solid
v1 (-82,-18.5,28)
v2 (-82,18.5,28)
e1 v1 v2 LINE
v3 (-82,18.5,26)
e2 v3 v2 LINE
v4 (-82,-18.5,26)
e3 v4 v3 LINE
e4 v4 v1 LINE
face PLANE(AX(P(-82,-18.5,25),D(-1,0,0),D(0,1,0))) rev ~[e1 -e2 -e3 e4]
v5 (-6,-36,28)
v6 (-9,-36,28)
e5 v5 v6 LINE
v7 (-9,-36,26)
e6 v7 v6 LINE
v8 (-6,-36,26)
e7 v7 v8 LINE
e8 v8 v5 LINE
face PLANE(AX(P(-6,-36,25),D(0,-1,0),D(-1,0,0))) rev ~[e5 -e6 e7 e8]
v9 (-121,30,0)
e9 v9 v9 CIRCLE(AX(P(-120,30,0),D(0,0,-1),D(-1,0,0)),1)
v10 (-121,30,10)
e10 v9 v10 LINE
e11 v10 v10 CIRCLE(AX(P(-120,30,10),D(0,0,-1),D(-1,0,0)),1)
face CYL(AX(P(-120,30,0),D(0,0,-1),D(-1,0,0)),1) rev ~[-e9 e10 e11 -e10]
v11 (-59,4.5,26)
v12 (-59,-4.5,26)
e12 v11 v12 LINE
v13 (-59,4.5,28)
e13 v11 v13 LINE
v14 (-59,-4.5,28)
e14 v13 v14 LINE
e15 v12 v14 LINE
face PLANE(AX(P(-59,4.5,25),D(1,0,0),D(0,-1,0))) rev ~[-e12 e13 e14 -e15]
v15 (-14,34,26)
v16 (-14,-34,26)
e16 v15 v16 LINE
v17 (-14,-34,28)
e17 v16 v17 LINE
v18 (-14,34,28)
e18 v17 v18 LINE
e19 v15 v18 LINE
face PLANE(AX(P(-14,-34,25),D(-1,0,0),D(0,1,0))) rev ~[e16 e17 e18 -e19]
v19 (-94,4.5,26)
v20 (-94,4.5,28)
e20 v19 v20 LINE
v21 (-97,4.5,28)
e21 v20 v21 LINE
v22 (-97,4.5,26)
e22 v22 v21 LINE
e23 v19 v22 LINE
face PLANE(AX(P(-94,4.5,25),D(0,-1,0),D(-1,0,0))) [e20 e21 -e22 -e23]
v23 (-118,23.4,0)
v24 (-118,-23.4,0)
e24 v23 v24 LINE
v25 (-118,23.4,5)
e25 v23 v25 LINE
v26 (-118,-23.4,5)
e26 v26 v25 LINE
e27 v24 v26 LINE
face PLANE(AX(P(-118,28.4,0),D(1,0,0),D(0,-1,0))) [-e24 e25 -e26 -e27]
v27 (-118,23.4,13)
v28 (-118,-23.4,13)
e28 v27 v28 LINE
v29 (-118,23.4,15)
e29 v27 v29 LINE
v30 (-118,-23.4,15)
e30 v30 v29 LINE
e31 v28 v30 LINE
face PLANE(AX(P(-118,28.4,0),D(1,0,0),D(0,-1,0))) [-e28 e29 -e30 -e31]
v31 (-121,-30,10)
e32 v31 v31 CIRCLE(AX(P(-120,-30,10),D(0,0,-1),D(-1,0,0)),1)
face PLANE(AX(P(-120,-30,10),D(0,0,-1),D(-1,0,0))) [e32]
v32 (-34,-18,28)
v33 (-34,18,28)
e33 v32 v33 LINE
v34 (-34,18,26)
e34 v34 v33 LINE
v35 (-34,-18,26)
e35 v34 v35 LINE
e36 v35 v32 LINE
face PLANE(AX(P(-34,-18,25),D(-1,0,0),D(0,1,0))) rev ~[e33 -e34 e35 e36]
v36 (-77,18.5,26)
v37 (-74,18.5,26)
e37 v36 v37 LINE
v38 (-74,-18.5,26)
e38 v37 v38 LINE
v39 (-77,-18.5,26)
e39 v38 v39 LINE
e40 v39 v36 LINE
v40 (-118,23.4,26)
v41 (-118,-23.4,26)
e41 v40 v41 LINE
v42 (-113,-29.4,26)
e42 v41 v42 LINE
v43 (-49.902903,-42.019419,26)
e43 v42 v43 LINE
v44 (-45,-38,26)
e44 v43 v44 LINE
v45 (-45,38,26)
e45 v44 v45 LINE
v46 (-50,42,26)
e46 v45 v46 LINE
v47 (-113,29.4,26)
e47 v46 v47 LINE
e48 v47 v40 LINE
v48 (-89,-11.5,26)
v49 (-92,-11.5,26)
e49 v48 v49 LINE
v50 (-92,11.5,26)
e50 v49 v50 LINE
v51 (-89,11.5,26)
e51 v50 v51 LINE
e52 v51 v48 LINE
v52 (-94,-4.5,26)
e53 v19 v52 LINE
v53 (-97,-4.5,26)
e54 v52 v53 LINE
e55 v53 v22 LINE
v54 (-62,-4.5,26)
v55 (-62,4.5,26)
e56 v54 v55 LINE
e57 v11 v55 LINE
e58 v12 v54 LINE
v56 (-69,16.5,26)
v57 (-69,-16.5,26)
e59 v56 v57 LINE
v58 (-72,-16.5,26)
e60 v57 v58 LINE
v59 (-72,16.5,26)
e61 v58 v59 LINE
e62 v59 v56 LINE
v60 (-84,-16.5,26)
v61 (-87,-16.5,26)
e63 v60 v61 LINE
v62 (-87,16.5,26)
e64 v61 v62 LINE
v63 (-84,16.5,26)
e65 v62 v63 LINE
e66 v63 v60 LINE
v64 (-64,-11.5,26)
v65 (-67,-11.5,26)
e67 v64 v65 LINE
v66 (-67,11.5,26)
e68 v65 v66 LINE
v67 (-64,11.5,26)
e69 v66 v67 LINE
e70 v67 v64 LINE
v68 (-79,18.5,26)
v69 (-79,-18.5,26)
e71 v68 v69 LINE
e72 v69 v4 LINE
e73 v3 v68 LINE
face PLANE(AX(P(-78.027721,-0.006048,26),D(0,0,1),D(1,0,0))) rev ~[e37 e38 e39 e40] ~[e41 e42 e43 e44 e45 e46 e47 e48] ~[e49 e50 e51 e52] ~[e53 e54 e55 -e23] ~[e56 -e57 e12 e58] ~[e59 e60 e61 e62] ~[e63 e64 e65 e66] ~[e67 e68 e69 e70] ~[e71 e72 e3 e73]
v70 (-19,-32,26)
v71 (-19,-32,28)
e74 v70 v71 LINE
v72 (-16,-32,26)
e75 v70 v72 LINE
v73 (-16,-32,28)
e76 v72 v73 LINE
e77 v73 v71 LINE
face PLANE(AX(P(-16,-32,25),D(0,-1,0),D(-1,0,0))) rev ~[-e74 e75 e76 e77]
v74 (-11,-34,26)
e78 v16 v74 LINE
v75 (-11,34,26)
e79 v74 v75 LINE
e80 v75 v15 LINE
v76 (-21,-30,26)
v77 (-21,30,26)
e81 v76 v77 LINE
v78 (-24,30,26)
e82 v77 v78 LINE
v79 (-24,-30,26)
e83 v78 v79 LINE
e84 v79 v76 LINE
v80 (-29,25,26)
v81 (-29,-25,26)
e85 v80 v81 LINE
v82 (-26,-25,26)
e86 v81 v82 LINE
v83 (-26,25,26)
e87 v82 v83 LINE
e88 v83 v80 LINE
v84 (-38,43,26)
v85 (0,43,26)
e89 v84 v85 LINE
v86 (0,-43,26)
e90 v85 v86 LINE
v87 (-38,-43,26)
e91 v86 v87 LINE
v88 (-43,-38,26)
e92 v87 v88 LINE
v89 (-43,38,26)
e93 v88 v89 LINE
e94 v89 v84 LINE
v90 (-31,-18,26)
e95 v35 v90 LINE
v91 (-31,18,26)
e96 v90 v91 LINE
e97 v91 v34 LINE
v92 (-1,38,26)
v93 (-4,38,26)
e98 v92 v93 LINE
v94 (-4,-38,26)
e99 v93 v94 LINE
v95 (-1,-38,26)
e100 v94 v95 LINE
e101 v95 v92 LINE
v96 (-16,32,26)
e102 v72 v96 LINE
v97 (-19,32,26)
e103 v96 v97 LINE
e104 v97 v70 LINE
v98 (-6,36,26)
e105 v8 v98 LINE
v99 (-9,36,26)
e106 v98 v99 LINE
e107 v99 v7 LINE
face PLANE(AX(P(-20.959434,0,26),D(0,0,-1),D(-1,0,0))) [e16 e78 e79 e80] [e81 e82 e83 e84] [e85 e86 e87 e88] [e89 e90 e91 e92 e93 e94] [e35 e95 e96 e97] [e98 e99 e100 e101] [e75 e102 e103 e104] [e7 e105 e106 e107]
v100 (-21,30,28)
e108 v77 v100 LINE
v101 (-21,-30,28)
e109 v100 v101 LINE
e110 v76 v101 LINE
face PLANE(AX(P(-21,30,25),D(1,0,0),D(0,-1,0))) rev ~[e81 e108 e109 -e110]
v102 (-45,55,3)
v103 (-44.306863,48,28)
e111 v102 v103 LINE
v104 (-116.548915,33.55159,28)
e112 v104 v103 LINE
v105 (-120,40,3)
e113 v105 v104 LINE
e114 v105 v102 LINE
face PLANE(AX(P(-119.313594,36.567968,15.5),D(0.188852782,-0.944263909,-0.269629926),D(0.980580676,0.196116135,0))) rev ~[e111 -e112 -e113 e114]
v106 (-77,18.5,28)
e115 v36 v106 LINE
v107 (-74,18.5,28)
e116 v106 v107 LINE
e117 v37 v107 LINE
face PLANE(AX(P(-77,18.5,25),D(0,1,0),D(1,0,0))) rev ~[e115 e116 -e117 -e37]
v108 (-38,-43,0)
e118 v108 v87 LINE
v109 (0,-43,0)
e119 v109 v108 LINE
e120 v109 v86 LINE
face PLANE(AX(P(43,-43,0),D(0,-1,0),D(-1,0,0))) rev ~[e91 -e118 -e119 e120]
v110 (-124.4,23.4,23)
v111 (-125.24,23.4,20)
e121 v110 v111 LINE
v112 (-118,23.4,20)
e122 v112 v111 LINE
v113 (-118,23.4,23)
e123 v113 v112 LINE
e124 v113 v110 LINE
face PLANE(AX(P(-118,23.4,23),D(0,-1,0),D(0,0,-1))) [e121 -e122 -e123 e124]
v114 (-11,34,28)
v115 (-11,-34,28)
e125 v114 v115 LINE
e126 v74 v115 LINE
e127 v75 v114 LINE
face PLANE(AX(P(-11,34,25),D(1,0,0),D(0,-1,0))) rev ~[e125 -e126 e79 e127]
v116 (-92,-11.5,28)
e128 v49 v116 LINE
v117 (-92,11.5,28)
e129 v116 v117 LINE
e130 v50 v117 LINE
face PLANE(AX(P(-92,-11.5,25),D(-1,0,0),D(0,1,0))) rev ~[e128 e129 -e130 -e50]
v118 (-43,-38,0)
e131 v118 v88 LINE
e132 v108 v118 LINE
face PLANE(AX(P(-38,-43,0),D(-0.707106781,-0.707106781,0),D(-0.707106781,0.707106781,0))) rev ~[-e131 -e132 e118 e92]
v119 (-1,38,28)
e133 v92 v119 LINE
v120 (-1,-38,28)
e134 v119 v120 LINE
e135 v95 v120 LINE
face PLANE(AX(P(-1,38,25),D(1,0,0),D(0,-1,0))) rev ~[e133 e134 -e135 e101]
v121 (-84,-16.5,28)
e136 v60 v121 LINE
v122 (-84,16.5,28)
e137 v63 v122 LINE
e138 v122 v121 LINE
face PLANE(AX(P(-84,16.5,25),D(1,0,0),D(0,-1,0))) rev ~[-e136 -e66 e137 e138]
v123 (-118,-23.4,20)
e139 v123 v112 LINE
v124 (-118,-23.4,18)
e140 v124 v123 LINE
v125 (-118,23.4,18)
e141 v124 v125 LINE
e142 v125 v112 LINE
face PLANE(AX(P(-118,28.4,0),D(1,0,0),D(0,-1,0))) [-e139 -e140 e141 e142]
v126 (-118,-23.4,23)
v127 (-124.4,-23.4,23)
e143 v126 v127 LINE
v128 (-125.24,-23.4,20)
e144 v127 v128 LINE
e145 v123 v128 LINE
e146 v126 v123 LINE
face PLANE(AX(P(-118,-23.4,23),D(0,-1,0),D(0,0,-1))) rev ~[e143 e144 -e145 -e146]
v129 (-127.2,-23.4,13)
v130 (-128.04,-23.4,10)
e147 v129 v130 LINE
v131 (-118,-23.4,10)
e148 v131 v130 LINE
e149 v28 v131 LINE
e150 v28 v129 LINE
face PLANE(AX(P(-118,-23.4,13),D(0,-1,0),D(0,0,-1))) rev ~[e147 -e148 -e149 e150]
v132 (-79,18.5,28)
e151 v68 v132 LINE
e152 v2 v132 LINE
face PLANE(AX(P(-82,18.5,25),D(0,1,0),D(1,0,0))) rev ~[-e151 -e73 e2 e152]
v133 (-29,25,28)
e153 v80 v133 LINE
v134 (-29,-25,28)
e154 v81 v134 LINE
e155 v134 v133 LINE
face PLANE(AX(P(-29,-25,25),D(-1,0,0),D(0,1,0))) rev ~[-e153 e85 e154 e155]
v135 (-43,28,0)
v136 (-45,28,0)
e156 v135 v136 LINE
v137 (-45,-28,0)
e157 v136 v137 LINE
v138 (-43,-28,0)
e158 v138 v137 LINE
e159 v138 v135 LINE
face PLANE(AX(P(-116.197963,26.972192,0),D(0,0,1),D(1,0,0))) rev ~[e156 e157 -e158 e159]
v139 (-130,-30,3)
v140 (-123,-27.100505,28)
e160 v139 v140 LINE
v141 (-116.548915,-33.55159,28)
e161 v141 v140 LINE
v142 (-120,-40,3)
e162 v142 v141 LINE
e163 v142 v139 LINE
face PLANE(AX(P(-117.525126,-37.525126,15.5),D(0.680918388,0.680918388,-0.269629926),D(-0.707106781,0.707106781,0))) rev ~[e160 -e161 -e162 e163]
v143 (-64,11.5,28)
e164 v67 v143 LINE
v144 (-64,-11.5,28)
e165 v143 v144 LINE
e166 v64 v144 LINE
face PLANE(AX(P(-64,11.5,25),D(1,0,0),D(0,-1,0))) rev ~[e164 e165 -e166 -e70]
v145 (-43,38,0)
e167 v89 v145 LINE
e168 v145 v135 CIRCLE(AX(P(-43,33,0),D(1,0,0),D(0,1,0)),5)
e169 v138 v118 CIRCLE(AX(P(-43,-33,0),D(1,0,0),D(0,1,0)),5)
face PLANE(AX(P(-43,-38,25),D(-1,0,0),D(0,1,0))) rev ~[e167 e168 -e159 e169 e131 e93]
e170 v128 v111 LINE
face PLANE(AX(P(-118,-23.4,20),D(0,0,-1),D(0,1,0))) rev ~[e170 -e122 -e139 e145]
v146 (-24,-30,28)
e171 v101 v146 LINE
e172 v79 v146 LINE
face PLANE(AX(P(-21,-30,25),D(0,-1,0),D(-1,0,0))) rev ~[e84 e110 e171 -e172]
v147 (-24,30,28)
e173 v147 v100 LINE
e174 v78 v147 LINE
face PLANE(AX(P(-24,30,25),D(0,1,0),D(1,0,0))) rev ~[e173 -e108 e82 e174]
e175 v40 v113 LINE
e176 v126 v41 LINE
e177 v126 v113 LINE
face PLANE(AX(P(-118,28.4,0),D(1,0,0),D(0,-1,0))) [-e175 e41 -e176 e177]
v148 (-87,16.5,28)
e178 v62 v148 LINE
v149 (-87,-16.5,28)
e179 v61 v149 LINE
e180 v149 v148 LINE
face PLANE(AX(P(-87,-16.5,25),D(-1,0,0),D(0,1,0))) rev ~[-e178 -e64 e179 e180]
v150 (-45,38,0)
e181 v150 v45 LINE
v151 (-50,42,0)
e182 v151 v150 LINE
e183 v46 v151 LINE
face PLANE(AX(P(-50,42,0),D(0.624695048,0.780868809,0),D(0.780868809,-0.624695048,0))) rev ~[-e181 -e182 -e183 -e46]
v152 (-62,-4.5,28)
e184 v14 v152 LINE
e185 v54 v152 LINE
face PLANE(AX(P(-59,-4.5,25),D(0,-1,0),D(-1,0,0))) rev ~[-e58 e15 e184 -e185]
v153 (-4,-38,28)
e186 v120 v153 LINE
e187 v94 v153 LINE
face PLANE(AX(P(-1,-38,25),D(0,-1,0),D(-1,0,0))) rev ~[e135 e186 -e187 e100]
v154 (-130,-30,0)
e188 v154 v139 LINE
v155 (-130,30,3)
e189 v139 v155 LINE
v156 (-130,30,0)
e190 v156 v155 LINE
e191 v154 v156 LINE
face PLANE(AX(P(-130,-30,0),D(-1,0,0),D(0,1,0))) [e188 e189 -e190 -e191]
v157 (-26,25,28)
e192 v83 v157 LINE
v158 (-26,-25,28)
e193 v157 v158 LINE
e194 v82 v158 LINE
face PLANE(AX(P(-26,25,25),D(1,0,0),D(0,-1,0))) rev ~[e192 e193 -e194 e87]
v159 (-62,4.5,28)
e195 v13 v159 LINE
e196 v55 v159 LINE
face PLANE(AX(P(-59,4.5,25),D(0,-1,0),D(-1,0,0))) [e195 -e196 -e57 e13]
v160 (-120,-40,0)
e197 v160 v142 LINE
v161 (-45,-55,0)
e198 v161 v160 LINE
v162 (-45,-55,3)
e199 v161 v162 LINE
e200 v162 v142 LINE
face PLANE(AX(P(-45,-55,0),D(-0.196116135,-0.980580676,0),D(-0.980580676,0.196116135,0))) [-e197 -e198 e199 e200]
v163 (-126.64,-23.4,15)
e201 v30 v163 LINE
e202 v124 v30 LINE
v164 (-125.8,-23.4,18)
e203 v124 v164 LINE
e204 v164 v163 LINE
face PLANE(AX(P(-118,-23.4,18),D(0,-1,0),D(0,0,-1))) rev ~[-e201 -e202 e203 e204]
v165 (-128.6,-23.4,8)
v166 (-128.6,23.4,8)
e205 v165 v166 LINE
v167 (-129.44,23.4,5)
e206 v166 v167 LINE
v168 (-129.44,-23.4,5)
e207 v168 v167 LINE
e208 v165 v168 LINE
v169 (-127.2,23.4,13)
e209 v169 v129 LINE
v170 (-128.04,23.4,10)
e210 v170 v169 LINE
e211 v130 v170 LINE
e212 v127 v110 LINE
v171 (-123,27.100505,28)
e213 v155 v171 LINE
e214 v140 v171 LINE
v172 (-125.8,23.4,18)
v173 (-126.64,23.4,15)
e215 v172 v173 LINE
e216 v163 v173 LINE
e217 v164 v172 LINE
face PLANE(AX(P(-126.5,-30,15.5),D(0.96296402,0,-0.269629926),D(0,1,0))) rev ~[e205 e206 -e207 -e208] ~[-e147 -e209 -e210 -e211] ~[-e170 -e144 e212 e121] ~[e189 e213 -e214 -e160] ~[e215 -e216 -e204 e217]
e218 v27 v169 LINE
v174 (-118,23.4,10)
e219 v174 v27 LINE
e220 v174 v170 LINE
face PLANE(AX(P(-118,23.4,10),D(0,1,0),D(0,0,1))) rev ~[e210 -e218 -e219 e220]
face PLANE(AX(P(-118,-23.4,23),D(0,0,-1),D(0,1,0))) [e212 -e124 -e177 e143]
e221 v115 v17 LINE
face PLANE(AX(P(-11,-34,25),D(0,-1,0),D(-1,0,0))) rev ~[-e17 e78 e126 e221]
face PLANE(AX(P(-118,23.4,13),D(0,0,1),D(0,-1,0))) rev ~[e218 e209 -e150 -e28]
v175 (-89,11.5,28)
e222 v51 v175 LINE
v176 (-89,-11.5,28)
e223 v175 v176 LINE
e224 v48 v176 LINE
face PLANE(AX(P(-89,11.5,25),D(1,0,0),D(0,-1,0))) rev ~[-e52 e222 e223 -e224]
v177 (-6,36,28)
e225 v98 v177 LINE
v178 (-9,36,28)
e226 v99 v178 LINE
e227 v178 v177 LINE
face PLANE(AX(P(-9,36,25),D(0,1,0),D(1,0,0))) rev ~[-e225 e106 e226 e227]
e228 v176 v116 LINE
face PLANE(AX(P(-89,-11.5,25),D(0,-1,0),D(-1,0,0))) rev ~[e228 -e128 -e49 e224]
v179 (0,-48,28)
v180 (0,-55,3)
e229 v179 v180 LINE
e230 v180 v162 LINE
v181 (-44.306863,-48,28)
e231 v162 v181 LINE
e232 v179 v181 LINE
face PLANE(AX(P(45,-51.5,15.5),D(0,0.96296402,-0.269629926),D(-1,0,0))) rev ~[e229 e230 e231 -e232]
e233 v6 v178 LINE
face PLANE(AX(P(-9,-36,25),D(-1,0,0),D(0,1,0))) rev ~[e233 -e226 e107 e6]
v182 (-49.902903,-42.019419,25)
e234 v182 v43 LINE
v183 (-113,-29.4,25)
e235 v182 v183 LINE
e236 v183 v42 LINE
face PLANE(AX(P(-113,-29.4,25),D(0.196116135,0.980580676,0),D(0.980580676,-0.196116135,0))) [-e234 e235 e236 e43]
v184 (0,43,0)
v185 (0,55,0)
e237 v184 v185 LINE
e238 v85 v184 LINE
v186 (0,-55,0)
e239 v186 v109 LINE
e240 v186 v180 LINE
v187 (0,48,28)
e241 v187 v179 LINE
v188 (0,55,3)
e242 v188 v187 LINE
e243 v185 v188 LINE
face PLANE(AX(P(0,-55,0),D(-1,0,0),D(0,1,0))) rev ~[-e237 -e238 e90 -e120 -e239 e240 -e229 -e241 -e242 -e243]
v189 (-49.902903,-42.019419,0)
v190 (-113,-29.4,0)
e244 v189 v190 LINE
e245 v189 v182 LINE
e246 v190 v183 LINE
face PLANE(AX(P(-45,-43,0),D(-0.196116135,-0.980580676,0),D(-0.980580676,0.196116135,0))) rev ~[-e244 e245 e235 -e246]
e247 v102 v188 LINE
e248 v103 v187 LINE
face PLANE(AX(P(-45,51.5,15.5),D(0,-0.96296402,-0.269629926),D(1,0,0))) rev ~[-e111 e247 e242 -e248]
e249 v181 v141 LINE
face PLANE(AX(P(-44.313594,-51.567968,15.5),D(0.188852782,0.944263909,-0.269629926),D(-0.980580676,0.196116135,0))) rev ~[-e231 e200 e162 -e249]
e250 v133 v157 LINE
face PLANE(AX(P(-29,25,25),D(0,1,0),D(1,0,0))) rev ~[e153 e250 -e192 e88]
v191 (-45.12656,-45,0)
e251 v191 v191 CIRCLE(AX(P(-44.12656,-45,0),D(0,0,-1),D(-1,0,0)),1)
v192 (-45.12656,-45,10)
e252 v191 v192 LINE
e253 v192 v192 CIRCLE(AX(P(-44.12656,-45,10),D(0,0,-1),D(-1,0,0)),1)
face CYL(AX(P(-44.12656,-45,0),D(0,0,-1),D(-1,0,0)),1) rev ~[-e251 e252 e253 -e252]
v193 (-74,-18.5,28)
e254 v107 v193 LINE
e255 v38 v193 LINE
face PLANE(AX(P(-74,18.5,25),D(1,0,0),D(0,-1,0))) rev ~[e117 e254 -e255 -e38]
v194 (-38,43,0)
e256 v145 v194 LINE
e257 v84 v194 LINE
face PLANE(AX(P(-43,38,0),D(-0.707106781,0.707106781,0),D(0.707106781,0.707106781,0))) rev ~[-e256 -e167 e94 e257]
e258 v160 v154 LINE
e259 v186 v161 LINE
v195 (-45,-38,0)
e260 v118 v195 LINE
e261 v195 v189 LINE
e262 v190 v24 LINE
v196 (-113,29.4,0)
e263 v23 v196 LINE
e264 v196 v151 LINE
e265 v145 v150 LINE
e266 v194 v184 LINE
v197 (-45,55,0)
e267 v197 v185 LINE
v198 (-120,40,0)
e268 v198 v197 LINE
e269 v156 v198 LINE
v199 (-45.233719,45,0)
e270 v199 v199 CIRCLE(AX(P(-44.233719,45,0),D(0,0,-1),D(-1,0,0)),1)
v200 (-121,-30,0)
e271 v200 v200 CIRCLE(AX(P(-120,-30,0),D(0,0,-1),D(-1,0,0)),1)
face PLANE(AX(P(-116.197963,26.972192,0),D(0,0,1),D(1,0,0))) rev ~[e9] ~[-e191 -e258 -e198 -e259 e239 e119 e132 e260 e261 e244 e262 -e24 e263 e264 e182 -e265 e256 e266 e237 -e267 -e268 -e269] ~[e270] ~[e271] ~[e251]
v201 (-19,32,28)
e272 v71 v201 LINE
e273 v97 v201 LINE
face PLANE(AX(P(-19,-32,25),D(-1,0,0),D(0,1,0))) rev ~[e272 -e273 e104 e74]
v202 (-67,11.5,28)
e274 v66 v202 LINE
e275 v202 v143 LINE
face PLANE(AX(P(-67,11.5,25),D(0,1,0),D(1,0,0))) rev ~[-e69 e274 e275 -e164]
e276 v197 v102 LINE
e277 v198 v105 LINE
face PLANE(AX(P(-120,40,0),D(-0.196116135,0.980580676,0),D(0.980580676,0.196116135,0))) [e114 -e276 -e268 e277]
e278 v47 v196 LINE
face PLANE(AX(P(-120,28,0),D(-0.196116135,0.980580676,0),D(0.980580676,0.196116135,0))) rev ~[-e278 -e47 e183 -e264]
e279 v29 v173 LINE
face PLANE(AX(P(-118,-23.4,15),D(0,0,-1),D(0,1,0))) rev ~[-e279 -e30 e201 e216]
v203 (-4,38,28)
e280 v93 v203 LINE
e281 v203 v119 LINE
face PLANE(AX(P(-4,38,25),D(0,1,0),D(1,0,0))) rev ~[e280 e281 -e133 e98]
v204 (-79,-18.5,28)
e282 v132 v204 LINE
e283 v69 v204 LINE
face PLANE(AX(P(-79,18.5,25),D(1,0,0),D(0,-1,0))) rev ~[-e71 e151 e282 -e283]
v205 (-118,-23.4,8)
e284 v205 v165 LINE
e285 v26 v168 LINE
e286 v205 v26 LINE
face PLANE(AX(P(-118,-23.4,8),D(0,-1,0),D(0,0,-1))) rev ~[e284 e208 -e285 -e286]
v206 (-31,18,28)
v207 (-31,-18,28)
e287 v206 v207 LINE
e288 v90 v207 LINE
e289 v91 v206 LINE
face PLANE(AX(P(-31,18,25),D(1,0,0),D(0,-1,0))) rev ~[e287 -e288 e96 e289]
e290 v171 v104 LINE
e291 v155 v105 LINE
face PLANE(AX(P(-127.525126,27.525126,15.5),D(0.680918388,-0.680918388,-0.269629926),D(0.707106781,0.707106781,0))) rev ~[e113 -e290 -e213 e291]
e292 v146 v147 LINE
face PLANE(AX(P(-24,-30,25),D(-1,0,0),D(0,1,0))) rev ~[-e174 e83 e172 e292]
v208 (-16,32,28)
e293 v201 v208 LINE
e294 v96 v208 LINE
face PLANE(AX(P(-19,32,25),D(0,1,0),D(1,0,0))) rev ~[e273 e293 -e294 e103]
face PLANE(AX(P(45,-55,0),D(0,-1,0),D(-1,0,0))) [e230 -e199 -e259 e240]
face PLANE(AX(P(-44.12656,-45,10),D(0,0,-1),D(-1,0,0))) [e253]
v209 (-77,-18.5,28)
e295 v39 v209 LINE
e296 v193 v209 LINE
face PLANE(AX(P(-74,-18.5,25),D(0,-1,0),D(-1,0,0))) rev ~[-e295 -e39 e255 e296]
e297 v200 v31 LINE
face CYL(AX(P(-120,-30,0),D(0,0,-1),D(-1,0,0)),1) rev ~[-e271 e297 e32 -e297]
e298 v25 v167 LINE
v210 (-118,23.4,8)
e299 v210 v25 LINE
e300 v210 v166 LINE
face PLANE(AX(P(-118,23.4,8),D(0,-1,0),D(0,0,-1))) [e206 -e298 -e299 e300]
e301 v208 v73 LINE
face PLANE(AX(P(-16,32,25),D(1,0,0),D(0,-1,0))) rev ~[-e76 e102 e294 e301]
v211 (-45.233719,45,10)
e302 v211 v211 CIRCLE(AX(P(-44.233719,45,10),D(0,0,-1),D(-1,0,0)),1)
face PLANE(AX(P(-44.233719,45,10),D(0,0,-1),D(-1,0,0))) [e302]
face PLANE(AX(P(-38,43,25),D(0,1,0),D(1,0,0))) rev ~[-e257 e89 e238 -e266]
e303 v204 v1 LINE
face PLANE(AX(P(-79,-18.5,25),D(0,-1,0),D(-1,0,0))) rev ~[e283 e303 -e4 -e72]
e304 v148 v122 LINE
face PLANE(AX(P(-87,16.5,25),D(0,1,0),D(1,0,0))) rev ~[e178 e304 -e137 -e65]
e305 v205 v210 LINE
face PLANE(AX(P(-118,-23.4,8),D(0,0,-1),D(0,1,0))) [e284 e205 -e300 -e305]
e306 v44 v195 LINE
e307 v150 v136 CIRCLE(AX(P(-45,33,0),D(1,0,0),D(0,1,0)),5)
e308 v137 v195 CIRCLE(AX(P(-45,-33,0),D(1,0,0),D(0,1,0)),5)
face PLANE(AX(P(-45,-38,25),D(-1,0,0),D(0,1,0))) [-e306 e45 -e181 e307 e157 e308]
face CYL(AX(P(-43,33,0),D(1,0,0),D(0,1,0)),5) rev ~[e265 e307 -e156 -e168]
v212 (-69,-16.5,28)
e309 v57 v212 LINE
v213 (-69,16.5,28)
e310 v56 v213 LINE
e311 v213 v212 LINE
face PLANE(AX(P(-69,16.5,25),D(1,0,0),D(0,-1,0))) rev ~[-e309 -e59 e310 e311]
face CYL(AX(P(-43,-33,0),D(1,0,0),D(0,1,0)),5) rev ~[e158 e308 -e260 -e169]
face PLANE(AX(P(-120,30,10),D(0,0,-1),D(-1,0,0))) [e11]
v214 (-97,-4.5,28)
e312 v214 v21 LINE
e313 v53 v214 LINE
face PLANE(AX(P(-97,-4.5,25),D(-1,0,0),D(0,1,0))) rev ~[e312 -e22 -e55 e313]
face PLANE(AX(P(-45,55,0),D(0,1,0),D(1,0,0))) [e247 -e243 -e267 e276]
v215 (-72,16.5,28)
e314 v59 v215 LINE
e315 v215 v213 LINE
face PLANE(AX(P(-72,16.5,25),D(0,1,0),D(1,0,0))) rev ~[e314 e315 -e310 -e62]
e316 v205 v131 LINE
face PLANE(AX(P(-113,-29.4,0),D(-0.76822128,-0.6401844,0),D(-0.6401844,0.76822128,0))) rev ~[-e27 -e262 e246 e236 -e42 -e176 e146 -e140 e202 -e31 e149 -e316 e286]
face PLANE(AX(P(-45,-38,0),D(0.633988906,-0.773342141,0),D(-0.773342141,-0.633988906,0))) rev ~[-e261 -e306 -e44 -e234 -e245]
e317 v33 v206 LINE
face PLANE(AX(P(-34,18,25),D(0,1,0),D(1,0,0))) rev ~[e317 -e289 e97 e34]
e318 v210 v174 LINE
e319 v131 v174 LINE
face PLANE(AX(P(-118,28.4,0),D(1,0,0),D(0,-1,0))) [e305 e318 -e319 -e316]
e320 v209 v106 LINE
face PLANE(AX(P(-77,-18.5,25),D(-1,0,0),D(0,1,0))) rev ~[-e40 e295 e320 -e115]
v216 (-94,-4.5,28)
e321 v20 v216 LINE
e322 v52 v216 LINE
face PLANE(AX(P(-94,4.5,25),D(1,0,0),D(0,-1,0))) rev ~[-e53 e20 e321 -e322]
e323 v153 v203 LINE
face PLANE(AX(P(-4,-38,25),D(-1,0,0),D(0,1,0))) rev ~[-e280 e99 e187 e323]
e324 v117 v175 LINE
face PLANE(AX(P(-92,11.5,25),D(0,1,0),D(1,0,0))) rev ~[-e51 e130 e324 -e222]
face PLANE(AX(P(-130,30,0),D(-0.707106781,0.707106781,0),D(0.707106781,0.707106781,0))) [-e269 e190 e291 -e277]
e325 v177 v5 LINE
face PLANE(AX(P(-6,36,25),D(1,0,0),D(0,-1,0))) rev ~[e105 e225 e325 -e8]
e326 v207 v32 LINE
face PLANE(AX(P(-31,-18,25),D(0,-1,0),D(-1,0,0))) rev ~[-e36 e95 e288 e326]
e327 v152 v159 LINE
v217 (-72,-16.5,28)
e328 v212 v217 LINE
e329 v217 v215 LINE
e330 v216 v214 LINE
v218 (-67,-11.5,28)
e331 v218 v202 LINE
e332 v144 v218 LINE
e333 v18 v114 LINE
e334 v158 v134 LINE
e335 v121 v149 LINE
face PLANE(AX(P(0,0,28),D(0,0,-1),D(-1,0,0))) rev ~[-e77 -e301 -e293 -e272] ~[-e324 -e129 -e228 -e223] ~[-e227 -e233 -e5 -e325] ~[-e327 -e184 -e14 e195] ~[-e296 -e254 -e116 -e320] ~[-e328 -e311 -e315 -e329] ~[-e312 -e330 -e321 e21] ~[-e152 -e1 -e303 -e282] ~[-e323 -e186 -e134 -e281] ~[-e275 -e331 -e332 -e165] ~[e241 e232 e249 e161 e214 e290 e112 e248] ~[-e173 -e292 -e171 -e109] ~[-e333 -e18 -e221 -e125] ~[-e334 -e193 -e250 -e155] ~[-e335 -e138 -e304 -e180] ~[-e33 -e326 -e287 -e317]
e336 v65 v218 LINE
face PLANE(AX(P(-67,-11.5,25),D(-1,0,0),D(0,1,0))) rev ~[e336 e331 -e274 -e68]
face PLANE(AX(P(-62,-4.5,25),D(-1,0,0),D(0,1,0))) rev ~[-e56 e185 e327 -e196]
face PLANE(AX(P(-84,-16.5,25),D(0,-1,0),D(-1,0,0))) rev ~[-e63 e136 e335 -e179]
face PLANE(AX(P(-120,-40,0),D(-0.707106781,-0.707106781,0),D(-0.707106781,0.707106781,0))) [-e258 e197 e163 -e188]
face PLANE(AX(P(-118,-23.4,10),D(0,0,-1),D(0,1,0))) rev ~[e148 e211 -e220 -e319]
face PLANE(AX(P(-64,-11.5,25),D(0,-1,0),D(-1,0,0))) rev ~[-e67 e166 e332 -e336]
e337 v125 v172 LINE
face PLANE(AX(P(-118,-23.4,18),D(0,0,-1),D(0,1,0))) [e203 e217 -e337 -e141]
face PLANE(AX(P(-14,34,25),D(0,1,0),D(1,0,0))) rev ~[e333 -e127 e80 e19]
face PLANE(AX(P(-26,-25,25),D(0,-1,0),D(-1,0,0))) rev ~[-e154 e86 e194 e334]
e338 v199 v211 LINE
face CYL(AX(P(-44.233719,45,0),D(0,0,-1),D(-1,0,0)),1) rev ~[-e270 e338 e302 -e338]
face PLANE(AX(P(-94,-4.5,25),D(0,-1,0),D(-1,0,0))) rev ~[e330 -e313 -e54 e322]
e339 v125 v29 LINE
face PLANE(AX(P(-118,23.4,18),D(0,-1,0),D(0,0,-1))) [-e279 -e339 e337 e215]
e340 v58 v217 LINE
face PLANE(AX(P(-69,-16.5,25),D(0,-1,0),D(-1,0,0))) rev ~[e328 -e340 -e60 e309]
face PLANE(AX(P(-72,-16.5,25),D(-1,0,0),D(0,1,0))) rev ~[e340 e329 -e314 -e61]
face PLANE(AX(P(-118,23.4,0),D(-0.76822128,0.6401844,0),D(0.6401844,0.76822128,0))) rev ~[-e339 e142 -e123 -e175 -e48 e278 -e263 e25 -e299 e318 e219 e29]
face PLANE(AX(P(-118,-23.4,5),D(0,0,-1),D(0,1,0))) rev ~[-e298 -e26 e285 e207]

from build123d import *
from OCP.BRepFilletAPI import BRepFilletAPI_MakeChamfer

# Parameters (mm, degrees)
ESBO_O1_W                 = 2
ESBO_O1_H                 = 86
RESSALTO_EXTRUS_O3_DEPTH  = 25
RESSALTO_EXTRUS_O16_DEPTH = 25
RESSALTO_EXTRUS_O17_DEPTH = 28
CHANFRO6_SIZE             = 25
CHANFRO6_SIZE2            = 7
RESSALTO_EXTRUS_O19_DEPTH = 25
ESBO_O9_R                 = 1
CORTE_EXTRUS_O1_DEPTH     = 10
ESBO_O13_W                = 5
ESBO_O13_H                = 10
ESBO_O13_W_2              = 3
ESBO_O13_H_2              = 46.8
CORTE_EXTRUS_O6_DEPTH     = 256.564081983
CORTE_EXTRUS_O8_REACH     = 185.679
CORTE_EXTRUS_O9_REACH     = 185.679
CORTE_EXTRUS_O10_REACH    = 257.564
ESBO_O14_W                = 3
ESBO_O14_H                = 46.8
RESSALTO_EXTRUS_O20_DEPTH = 3
CORTE_EXTRUS_O13_DEPTH    = 3
ESBO_O23_W                = 3
ESBO_O23_H                = 4.5
CORTE_EXTRUS_O14_DEPTH    = 3
CORTE_EXTRUS_O15_REACH    = 145.906
ESBO_O24_W                = 130
ESBO_O24_H                = 110
CORTE_EXTRUS_O16_DEPTH    = 1
CORTE_EXTRUS_O17_DEPTH    = 1


with BuildPart() as part:
    # Esboço1 → Ressalto-extrusão3 (new body)
    with BuildSketch(Plane.XY):
        Polygon((-45, -43), (-120, -28), (-120, -30), (-45, -45), (45, -45), (45, -43), (43, -43), (-43, -43), align=None)
        with Locations((44, 0)):
            Rectangle(ESBO_O1_W, ESBO_O1_H)
        Polygon((45, 45), (-45, 45), (-45, 43), (-43, 43), (43, 43), (45, 43), align=None)
        with Locations((-44, 0)):
            Rectangle(ESBO_O1_W, ESBO_O1_H)
        Polygon((-120, 30), (-120, 28), (-45, 43), (-45, 45), align=None)
        Polygon((-45, -43), (-120, -28), (-120, -30), (-45, -45), (45, -45), (45, -43), (43, -43), (-43, -43), align=None)
        Polygon((120, -28), (45, -43), (45, -45), (120, -30), align=None)
        Polygon((120, 30), (45, 45), (45, 43), (120, 28), align=None)
    extrude(amount=RESSALTO_EXTRUS_O3_DEPTH)

    # Esboço6 → Ressalto-extrusão16 (add)
    with BuildSketch(Plane.XY):
        Polygon((-120, -28), (-120, 28), (-118, 28.4), (-118, -28.4), align=None)
        Polygon((120, 28), (120, -28), (118, -28.4), (118, 28.4), align=None)
    extrude(amount=RESSALTO_EXTRUS_O16_DEPTH)

    # Esboço7 → Ressalto-extrusão17 (add)
    with BuildSketch(Plane.XY):
        Polygon((-120, 40), (-45, 55), (45, 55), (120, 40), (130, 30), (130, -30), (120, -40), (45, -55), (-45, -55), (-120, -40), (-130, -30), (-130, 30), align=None)
        Polygon((-45, -45), (45, -45), (120, -30), (120, 30), (45, 45), (-45, 45), (-120, 30), (-120, -30), align=None, mode=Mode.SUBTRACT)
    extrude(amount=RESSALTO_EXTRUS_O17_DEPTH)

    # Chanfro6: one chamfer whose edges measure the first distance from different faces: ONE call of the kernel's chamfer builder (chamfer() names one face for all edges)
    chanfro6_edges_1 = [part.edges().sort_by_distance(p)[0] for p in [
        (82.5, -47.5, 28),
    ]]
    chanfro6_side_1 = [part.faces().sort_by_distance(p)[0] for p in [
        (82.5, -47.5, 14),
    ]]
    chanfro6_edges_2 = [part.edges().sort_by_distance(p)[0] for p in [
        (125, -35, 28),
    ]]
    chanfro6_side_2 = [part.faces().sort_by_distance(p)[0] for p in [
        (125, -35, 14),
    ]]
    chanfro6_edges_3 = [part.edges().sort_by_distance(p)[0] for p in [
        (130, 0, 28),
    ]]
    chanfro6_side_3 = [part.faces().sort_by_distance(p)[0] for p in [
        (130, 0, 14),
    ]]
    chanfro6_edges_4 = [part.edges().sort_by_distance(p)[0] for p in [
        (125, 35, 28),
    ]]
    chanfro6_side_4 = [part.faces().sort_by_distance(p)[0] for p in [
        (125, 35, 14),
    ]]
    chanfro6_edges_5 = [part.edges().sort_by_distance(p)[0] for p in [
        (82.5, 47.5, 28),
    ]]
    chanfro6_side_5 = [part.faces().sort_by_distance(p)[0] for p in [
        (82.5, 47.5, 14),
    ]]
    chanfro6_edges_6 = [part.edges().sort_by_distance(p)[0] for p in [
        (0, 55, 28),
    ]]
    chanfro6_side_6 = [part.faces().sort_by_distance(p)[0] for p in [
        (0, 55, 14),
    ]]
    chanfro6_edges_7 = [part.edges().sort_by_distance(p)[0] for p in [
        (-82.5, 47.5, 28),
    ]]
    chanfro6_side_7 = [part.faces().sort_by_distance(p)[0] for p in [
        (-82.5, 47.5, 14),
    ]]
    chanfro6_edges_8 = [part.edges().sort_by_distance(p)[0] for p in [
        (-125, 35, 28),
    ]]
    chanfro6_side_8 = [part.faces().sort_by_distance(p)[0] for p in [
        (-125, 35, 14),
    ]]
    chanfro6_edges_9 = [part.edges().sort_by_distance(p)[0] for p in [
        (-130, 0, 28),
    ]]
    chanfro6_side_9 = [part.faces().sort_by_distance(p)[0] for p in [
        (-130, 0, 14),
    ]]
    chanfro6_edges_10 = [part.edges().sort_by_distance(p)[0] for p in [
        (-125, -35, 28),
    ]]
    chanfro6_side_10 = [part.faces().sort_by_distance(p)[0] for p in [
        (-125, -35, 14),
    ]]
    chanfro6_edges_11 = [part.edges().sort_by_distance(p)[0] for p in [
        (-82.5, -47.5, 28),
    ]]
    chanfro6_side_11 = [part.faces().sort_by_distance(p)[0] for p in [
        (-82.5, -47.5, 14),
    ]]
    chanfro6_edges_12 = [part.edges().sort_by_distance(p)[0] for p in [
        (0, -55, 28),
    ]]
    chanfro6_side_12 = [part.faces().sort_by_distance(p)[0] for p in [
        (0, -55, 14),
    ]]
    chanfro6 = BRepFilletAPI_MakeChamfer(part.part.solid().wrapped)
    for e in chanfro6_edges_1:
        chanfro6.Add(CHANFRO6_SIZE, CHANFRO6_SIZE2, e.wrapped, chanfro6_side_1[0].wrapped)  # the first distance lies on this face
    for e in chanfro6_edges_2:
        chanfro6.Add(CHANFRO6_SIZE, CHANFRO6_SIZE2, e.wrapped, chanfro6_side_2[0].wrapped)  # the first distance lies on this face
    for e in chanfro6_edges_3:
        chanfro6.Add(CHANFRO6_SIZE, CHANFRO6_SIZE2, e.wrapped, chanfro6_side_3[0].wrapped)  # the first distance lies on this face
    for e in chanfro6_edges_4:
        chanfro6.Add(CHANFRO6_SIZE, CHANFRO6_SIZE2, e.wrapped, chanfro6_side_4[0].wrapped)  # the first distance lies on this face
    for e in chanfro6_edges_5:
        chanfro6.Add(CHANFRO6_SIZE, CHANFRO6_SIZE2, e.wrapped, chanfro6_side_5[0].wrapped)  # the first distance lies on this face
    for e in chanfro6_edges_6:
        chanfro6.Add(CHANFRO6_SIZE, CHANFRO6_SIZE2, e.wrapped, chanfro6_side_6[0].wrapped)  # the first distance lies on this face
    for e in chanfro6_edges_7:
        chanfro6.Add(CHANFRO6_SIZE, CHANFRO6_SIZE2, e.wrapped, chanfro6_side_7[0].wrapped)  # the first distance lies on this face
    for e in chanfro6_edges_8:
        chanfro6.Add(CHANFRO6_SIZE, CHANFRO6_SIZE2, e.wrapped, chanfro6_side_8[0].wrapped)  # the first distance lies on this face
    for e in chanfro6_edges_9:
        chanfro6.Add(CHANFRO6_SIZE, CHANFRO6_SIZE2, e.wrapped, chanfro6_side_9[0].wrapped)  # the first distance lies on this face
    for e in chanfro6_edges_10:
        chanfro6.Add(CHANFRO6_SIZE, CHANFRO6_SIZE2, e.wrapped, chanfro6_side_10[0].wrapped)  # the first distance lies on this face
    for e in chanfro6_edges_11:
        chanfro6.Add(CHANFRO6_SIZE, CHANFRO6_SIZE2, e.wrapped, chanfro6_side_11[0].wrapped)  # the first distance lies on this face
    for e in chanfro6_edges_12:
        chanfro6.Add(CHANFRO6_SIZE, CHANFRO6_SIZE2, e.wrapped, chanfro6_side_12[0].wrapped)  # the first distance lies on this face
    add(Compound.cast(chanfro6.Shape()), mode=Mode.REPLACE)

    # Esboço8 → Ressalto-extrusão19 (add)
    with BuildSketch(Plane.XY):
        Polygon((-118, 28.4), (-118, 23.4), (-113, 29.4), align=None)
        Polygon((-45, 38), (-45, 43), (-50, 42), align=None)
        Polygon((-49.902903378, -42.019419324), (-45, -43), (-45, -38), align=None)
        Polygon((-118, -23.4), (-118, -28.4), (-113, -29.4), align=None)
        Polygon((118, 23.4), (118, 28.4), (113, 29.4), align=None)
        Polygon((113, -29.4), (118, -28.4), (118, -23.4), align=None)
        Polygon((45, -38), (45, -43), (50, -42), align=None)
        Polygon((50, 42), (45, 43), (45, 38), align=None)
        Polygon((-43, -38), (-43, -43), (-38, -43), align=None)
        Polygon((-38, 43), (-43, 43), (-43, 38), align=None)
        Polygon((43, 38), (43, 43), (38, 43), align=None)
        Polygon((38, -43), (43, -43), (43, -38), align=None)
    extrude(amount=RESSALTO_EXTRUS_O19_DEPTH)

    # Esboço9 → Corte-extrusão1 (cut)
    with BuildSketch(Plane(origin=(0, 0, 0), x_dir=(-1, 0, 0), z_dir=(0, 0, -1))):
        with Locations((44.126560345, -45)):
            Circle(ESBO_O9_R)
        with Locations((-44.233718703, -45)):
            Circle(ESBO_O9_R)
        with Locations((-44.233718703, 45)):
            Circle(ESBO_O9_R)
        with Locations((44.233718703, 45)):
            Circle(ESBO_O9_R)
        with Locations((120, -30)):
            Circle(ESBO_O9_R)
        with Locations((120, 30)):
            Circle(ESBO_O9_R)
        with Locations((-120, 30)):
            Circle(ESBO_O9_R)
        with Locations((-120, -30)):
            Circle(ESBO_O9_R)
    extrude(amount=-CORTE_EXTRUS_O1_DEPTH, mode=Mode.SUBTRACT)

    # Esboço13 → Corte-extrusão6 (cut, through all)
    with BuildSketch(Plane.ZY.offset(-118)):
        with Locations((2.5, 0)):
            Rectangle(ESBO_O13_W, ESBO_O13_H)
        with Locations((21.5, 0)):
            Rectangle(ESBO_O13_W_2, ESBO_O13_H_2)
        with Locations((16.5, 0)):
            Rectangle(ESBO_O13_W_2, ESBO_O13_H_2)
        with Locations((11.5, 0)):
            Rectangle(ESBO_O13_W_2, ESBO_O13_H_2)
    extrude(amount=-CORTE_EXTRUS_O6_DEPTH, mode=Mode.SUBTRACT)

    # Esboço15 → Corte-extrusão8 (cut, up to next)
    with BuildSketch(Plane.ZY.offset(-43), mode=Mode.PRIVATE) as corte_extrus_o8_sk1:
        with BuildLine():
            ThreePointArc((0, -38), (2.5, -35.5), (0, -33))
            Line((0, -33), (0, -38))
        make_face()
    corte_extrus_o8_tool1 = extrude(corte_extrus_o8_sk1.sketch, amount=-CORTE_EXTRUS_O8_REACH, mode=Mode.PRIVATE) & part.part
    # Esboço15 → Corte-extrusão8 (cut, up to next)
    with BuildSketch(Plane.ZY.offset(-43), mode=Mode.PRIVATE) as corte_extrus_o8_sk2:
        with BuildLine():
            ThreePointArc((0, 33), (2.5, 35.5), (0, 38))
            Line((0, 38), (0, 33))
        make_face()
    corte_extrus_o8_tool2 = extrude(corte_extrus_o8_sk2.sketch, amount=-CORTE_EXTRUS_O8_REACH, mode=Mode.PRIVATE) & part.part
    add(corte_extrus_o8_tool1.solids().sort_by_distance((43, -35.5, 1.061033))[0], mode=Mode.SUBTRACT)
    add(corte_extrus_o8_tool2.solids().sort_by_distance((43, 35.5, 1.061033))[0], mode=Mode.SUBTRACT)

    # Esboço16 → Corte-extrusão9 (cut, up to next)
    with BuildSketch(Plane(origin=(-43, 0, 0), x_dir=(0, 0, -1), z_dir=(1, 0, 0)), mode=Mode.PRIVATE) as corte_extrus_o9_sk1:
        with BuildLine():
            ThreePointArc((0, -28), (-5, -33), (0, -38))
            Line((0, -38), (0, -28))
        make_face()
    corte_extrus_o9_tool1 = extrude(corte_extrus_o9_sk1.sketch, amount=-CORTE_EXTRUS_O9_REACH, mode=Mode.PRIVATE) & part.part
    # Esboço16 → Corte-extrusão9 (cut, up to next)
    with BuildSketch(Plane(origin=(-43, 0, 0), x_dir=(0, 0, -1), z_dir=(1, 0, 0)), mode=Mode.PRIVATE) as corte_extrus_o9_sk2:
        with BuildLine():
            ThreePointArc((0, 38), (-5, 33), (0, 28))
            Line((0, 28), (0, 38))
        make_face()
    corte_extrus_o9_tool2 = extrude(corte_extrus_o9_sk2.sketch, amount=-CORTE_EXTRUS_O9_REACH, mode=Mode.PRIVATE) & part.part
    add(corte_extrus_o9_tool1.solids().sort_by_distance((-43, -33, 2.122066))[0], mode=Mode.SUBTRACT)
    add(corte_extrus_o9_tool2.solids().sort_by_distance((-43, 33, 2.122066))[0], mode=Mode.SUBTRACT)

    # Corte-extrusão10: up to this plane
    corte_extrus_o10_end = Plane(origin=(-123, -38, 28), z_dir=(-0.9629640197141827, 0, 0.2696299255199678))
    # Esboço14 → Corte-extrusão10 (cut, up to the surface)
    with BuildSketch(Plane(origin=(-118, 0, 0), x_dir=(0, 0, -1), z_dir=(1, 0, 0)), mode=Mode.PRIVATE) as corte_extrus_o10_sk1:
        with Locations((-21.5, 0)):
            Rectangle(ESBO_O14_W, ESBO_O14_H)
    corte_extrus_o10_tool1 = split(extrude(corte_extrus_o10_sk1.sketch, amount=-CORTE_EXTRUS_O10_REACH, mode=Mode.PRIVATE), bisect_by=corte_extrus_o10_end, keep=Keep.BOTH, mode=Mode.PRIVATE)
    add(corte_extrus_o10_tool1.solids().sort_by_distance((-118, 0, 21.5))[0], mode=Mode.SUBTRACT)
    # Esboço14 → Corte-extrusão10 (cut, up to the surface)
    with BuildSketch(Plane(origin=(-118, 0, 0), x_dir=(0, 0, -1), z_dir=(1, 0, 0)), mode=Mode.PRIVATE) as corte_extrus_o10_sk2:
        with Locations((-16.5, 0)):
            Rectangle(ESBO_O14_W, ESBO_O14_H)
    corte_extrus_o10_tool2 = split(extrude(corte_extrus_o10_sk2.sketch, amount=-CORTE_EXTRUS_O10_REACH, mode=Mode.PRIVATE), bisect_by=corte_extrus_o10_end, keep=Keep.BOTH, mode=Mode.PRIVATE)
    add(corte_extrus_o10_tool2.solids().sort_by_distance((-118, 0, 16.5))[0], mode=Mode.SUBTRACT)
    # Esboço14 → Corte-extrusão10 (cut, up to the surface)
    with BuildSketch(Plane(origin=(-118, 0, 0), x_dir=(0, 0, -1), z_dir=(1, 0, 0)), mode=Mode.PRIVATE) as corte_extrus_o10_sk3:
        Polygon((-13, 23.4), (-13, -23.4), (-12.5, -23.4), (-10, -23.4), (-10, 23.4), (-12.5, 23.4), align=None)
    corte_extrus_o10_tool3 = split(extrude(corte_extrus_o10_sk3.sketch, amount=-CORTE_EXTRUS_O10_REACH, mode=Mode.PRIVATE), bisect_by=corte_extrus_o10_end, keep=Keep.BOTH, mode=Mode.PRIVATE)
    add(corte_extrus_o10_tool3.solids().sort_by_distance((-118, 0, 11.5))[0], mode=Mode.SUBTRACT)
    # Esboço14 → Corte-extrusão10 (cut, up to the surface)
    with BuildSketch(Plane(origin=(-118, 0, 0), x_dir=(0, 0, -1), z_dir=(1, 0, 0)), mode=Mode.PRIVATE) as corte_extrus_o10_sk4:
        with Locations((-6.5, 0)):
            Rectangle(ESBO_O14_W, ESBO_O14_H)
    corte_extrus_o10_tool4 = split(extrude(corte_extrus_o10_sk4.sketch, amount=-CORTE_EXTRUS_O10_REACH, mode=Mode.PRIVATE), bisect_by=corte_extrus_o10_end, keep=Keep.BOTH, mode=Mode.PRIVATE)
    add(corte_extrus_o10_tool4.solids().sort_by_distance((-118, 0, 6.5))[0], mode=Mode.SUBTRACT)

    # Esboço20 → Ressalto-extrusão20 (add)
    with BuildSketch(Plane.XY.offset(28)):
        Polygon((-120, 30), (-45, 45), (45, 45), (120, 30), (120, -30), (45, -45), (-45, -45), (-120, -30), align=None)
    extrude(amount=-RESSALTO_EXTRUS_O20_DEPTH)

    # Esboço22 → Corte-extrusão13 (cut)
    with BuildSketch(Plane(origin=(0, 0, 25), x_dir=(-1, 0, 0), z_dir=(0, 0, -1))):
        Polygon((-33.799138949, -18), (-30.799138949, -18), (-30.799138949, 18), (-33.799138949, 18), (-33.799138949, 14), (-33.799138949, -14), align=None)
        Polygon((-28.799138949, -25), (-25.799138949, -25), (-25.799138949, 25), (-28.799138949, 25), (-28.799138949, 22), (-28.799138949, -22), align=None)
        Polygon((-24, -30), (-21, -30), (-21, 30), (-24, 30), (-24, 28), (-24, -28), align=None)
        Polygon((-19, -32), (-16, -32), (-16, 32), (-19, 32), (-19, 31), (-19, -31), align=None)
        Polygon((-14, -34), (-11, -34), (-11, 34), (-14, 34), (-14, 33), (-14, -33), align=None)
        Polygon((-9, -36), (-6, -36), (-6, 36), (-9, 36), (-9, 35), (-9, -35), align=None)
        Polygon((-4, -38), (-1, -38), (-1, 38), (-4, 38), (-4, 37), (-4, -37), align=None)
        Polygon((1, 38), (1, -38), (4, -38), (4, -37), (4, 37), (4, 38), align=None)
        Polygon((6, 36), (6, -36), (9, -36), (9, -35), (9, 35), (9, 36), align=None)
        Polygon((11, 34), (11, -34), (14, -34), (14, -33), (14, 33), (14, 34), align=None)
        Polygon((16, 32), (16, -32), (19, -32), (19, -31), (19, 31), (19, 32), align=None)
        Polygon((21, 30), (21, -30), (24, -30), (24, -28), (24, 28), (24, 30), align=None)
        Polygon((26, 25), (26, -25), (29, -25), (29, -22), (29, 22.932654574), (29, 25), align=None)
        Polygon((31, 18), (31, -18), (34, -18), (34, -14), (34, 14), (34, 18), align=None)
    extrude(amount=-CORTE_EXTRUS_O13_DEPTH, mode=Mode.SUBTRACT)

    # Esboço23 → Corte-extrusão14 (cut)
    with BuildSketch(Plane(origin=(0, 0, 25), x_dir=(-1, 0, 0), z_dir=(0, 0, -1))):
        with Locations((-60.5, -2.25)):
            Rectangle(ESBO_O23_W, ESBO_O23_H)
        with Locations((-60.5, 2.25)):
            Rectangle(ESBO_O23_W, ESBO_O23_H)
        Polygon((-67, 0), (-64, 0), (-64, 8.5), (-64, 11.5), (-67, 11.5), align=None)
        Polygon((-64, -8.5), (-64, 0), (-67, 0), (-67, -11.5), (-64, -11.5), align=None)
        Polygon((-72, 0), (-69, 0), (-69, 14.5), (-69, 16.5), (-72, 16.5), align=None)
        Polygon((-69, -14.5), (-69, 0), (-72, 0), (-72, -16.5), (-69, -16.5), align=None)
        Polygon((-74, -17.5), (-74, 0), (-77, 0), (-77, -18.5), (-74, -18.5), align=None)
        Polygon((-77, 0), (-74, 0), (-74, 17.5), (-74, 18.5), (-77, 18.5), align=None)
        Polygon((-82, 17.5), (-82, 0), (-79, 0), (-79, 18.5), (-82, 18.5), align=None)
        Polygon((-79, 0), (-82, 0), (-82, -17.5), (-82, -18.5), (-79, -18.5), align=None)
        Polygon((-84, 0), (-87, 0), (-87, -14.5), (-87, -16.5), (-84, -16.5), align=None)
        Polygon((-87, 14.5), (-87, 0), (-84, 0), (-84, 16.5), (-87, 16.5), align=None)
        Polygon((-92, 8.5), (-92, 0), (-89, 0), (-89, 11.5), (-92, 11.5), align=None)
        Polygon((-89, 0), (-92, 0), (-92, -8.5), (-92, -11.5), (-89, -11.5), align=None)
        with Locations((-95.5, 2.25)):
            Rectangle(ESBO_O23_W, ESBO_O23_H)
        with Locations((-95.5, -2.25)):
            Rectangle(ESBO_O23_W, ESBO_O23_H)
        with Locations((60.5, 2.25)):
            Rectangle(ESBO_O23_W, ESBO_O23_H)
        with Locations((60.5, -2.25)):
            Rectangle(ESBO_O23_W, ESBO_O23_H)
        Polygon((64, 8.5), (64, 0), (67, 0), (67, 11.5), (64, 11.5), align=None)
        Polygon((67, 0), (64, 0), (64, -8.5), (64, -11.5), (67, -11.5), align=None)
        Polygon((69, 14.5), (69, 0), (72, 0), (72, 16.5), (69, 16.5), align=None)
        Polygon((72, 0), (69, 0), (69, -14.5), (69, -16.5), (72, -16.5), align=None)
        Polygon((77, 0), (74, 0), (74, -17.5), (74, -18.5), (77, -18.5), align=None)
        Polygon((74, 17.5), (74, 0), (77, 0), (77, 18.5), (74, 18.5), align=None)
        Polygon((79, 0), (82, 0), (82, 17.5), (82, 18.5), (79, 18.5), align=None)
        Polygon((82, -17.5), (82, 0), (79, 0), (79, -18.5), (82, -18.5), align=None)
        Polygon((84, 0), (87, 0), (87, 14.5), (87, 16.5), (84, 16.5), align=None)
        Polygon((87, -14.5), (87, 0), (84, 0), (84, -16.5), (87, -16.5), align=None)
        Polygon((92, -8.5), (92, 0), (89, 0), (89, -11.5), (92, -11.5), align=None)
        with Locations((95.5, -2.25)):
            Rectangle(ESBO_O23_W, ESBO_O23_H)
        with Locations((95.5, 2.25)):
            Rectangle(ESBO_O23_W, ESBO_O23_H)
        Polygon((89, 0), (92, 0), (92, 8.5), (92, 11.5), (89, 11.5), align=None)
    extrude(amount=-CORTE_EXTRUS_O14_DEPTH, mode=Mode.SUBTRACT)

    # Esboço24 → Corte-extrusão15 (cut, up to next)
    with BuildSketch(Plane(origin=(0, 0, 0), x_dir=(-1, 0, 0), z_dir=(0, 0, -1)), mode=Mode.PRIVATE) as corte_extrus_o15_sk1:
        with Locations((-65, 0)):
            Rectangle(ESBO_O24_W, ESBO_O24_H)
    corte_extrus_o15_tool1 = extrude(corte_extrus_o15_sk1.sketch, amount=-CORTE_EXTRUS_O15_REACH, mode=Mode.PRIVATE) & part.part
    add(corte_extrus_o15_tool1.solids().sort_by_distance((65, 0, 0))[0], mode=Mode.SUBTRACT)

    # Esboço25 → Corte-extrusão16 (cut)
    with BuildSketch(Plane(origin=(0, 0, 25), x_dir=(-1, 0, 0), z_dir=(0, 0, -1))):
        Polygon((0, -43), (38, -43), (43, -38), (43, 38), (38, 43), (0, 43), align=None)
    extrude(amount=-CORTE_EXTRUS_O16_DEPTH, mode=Mode.SUBTRACT)

    # Esboço26 → Corte-extrusão17 (cut)
    with BuildSketch(Plane(origin=(0, 0, 25), x_dir=(-1, 0, 0), z_dir=(0, 0, -1))):
        Polygon((45, 38), (50, 42), (113, 29.4), (118, 23.4), (118, -23.4), (113, -29.4), (49.902903378, -42.019419324), (45, -38), align=None)
    extrude(amount=-CORTE_EXTRUS_O17_DEPTH, mode=Mode.SUBTRACT)


solid = part.part
